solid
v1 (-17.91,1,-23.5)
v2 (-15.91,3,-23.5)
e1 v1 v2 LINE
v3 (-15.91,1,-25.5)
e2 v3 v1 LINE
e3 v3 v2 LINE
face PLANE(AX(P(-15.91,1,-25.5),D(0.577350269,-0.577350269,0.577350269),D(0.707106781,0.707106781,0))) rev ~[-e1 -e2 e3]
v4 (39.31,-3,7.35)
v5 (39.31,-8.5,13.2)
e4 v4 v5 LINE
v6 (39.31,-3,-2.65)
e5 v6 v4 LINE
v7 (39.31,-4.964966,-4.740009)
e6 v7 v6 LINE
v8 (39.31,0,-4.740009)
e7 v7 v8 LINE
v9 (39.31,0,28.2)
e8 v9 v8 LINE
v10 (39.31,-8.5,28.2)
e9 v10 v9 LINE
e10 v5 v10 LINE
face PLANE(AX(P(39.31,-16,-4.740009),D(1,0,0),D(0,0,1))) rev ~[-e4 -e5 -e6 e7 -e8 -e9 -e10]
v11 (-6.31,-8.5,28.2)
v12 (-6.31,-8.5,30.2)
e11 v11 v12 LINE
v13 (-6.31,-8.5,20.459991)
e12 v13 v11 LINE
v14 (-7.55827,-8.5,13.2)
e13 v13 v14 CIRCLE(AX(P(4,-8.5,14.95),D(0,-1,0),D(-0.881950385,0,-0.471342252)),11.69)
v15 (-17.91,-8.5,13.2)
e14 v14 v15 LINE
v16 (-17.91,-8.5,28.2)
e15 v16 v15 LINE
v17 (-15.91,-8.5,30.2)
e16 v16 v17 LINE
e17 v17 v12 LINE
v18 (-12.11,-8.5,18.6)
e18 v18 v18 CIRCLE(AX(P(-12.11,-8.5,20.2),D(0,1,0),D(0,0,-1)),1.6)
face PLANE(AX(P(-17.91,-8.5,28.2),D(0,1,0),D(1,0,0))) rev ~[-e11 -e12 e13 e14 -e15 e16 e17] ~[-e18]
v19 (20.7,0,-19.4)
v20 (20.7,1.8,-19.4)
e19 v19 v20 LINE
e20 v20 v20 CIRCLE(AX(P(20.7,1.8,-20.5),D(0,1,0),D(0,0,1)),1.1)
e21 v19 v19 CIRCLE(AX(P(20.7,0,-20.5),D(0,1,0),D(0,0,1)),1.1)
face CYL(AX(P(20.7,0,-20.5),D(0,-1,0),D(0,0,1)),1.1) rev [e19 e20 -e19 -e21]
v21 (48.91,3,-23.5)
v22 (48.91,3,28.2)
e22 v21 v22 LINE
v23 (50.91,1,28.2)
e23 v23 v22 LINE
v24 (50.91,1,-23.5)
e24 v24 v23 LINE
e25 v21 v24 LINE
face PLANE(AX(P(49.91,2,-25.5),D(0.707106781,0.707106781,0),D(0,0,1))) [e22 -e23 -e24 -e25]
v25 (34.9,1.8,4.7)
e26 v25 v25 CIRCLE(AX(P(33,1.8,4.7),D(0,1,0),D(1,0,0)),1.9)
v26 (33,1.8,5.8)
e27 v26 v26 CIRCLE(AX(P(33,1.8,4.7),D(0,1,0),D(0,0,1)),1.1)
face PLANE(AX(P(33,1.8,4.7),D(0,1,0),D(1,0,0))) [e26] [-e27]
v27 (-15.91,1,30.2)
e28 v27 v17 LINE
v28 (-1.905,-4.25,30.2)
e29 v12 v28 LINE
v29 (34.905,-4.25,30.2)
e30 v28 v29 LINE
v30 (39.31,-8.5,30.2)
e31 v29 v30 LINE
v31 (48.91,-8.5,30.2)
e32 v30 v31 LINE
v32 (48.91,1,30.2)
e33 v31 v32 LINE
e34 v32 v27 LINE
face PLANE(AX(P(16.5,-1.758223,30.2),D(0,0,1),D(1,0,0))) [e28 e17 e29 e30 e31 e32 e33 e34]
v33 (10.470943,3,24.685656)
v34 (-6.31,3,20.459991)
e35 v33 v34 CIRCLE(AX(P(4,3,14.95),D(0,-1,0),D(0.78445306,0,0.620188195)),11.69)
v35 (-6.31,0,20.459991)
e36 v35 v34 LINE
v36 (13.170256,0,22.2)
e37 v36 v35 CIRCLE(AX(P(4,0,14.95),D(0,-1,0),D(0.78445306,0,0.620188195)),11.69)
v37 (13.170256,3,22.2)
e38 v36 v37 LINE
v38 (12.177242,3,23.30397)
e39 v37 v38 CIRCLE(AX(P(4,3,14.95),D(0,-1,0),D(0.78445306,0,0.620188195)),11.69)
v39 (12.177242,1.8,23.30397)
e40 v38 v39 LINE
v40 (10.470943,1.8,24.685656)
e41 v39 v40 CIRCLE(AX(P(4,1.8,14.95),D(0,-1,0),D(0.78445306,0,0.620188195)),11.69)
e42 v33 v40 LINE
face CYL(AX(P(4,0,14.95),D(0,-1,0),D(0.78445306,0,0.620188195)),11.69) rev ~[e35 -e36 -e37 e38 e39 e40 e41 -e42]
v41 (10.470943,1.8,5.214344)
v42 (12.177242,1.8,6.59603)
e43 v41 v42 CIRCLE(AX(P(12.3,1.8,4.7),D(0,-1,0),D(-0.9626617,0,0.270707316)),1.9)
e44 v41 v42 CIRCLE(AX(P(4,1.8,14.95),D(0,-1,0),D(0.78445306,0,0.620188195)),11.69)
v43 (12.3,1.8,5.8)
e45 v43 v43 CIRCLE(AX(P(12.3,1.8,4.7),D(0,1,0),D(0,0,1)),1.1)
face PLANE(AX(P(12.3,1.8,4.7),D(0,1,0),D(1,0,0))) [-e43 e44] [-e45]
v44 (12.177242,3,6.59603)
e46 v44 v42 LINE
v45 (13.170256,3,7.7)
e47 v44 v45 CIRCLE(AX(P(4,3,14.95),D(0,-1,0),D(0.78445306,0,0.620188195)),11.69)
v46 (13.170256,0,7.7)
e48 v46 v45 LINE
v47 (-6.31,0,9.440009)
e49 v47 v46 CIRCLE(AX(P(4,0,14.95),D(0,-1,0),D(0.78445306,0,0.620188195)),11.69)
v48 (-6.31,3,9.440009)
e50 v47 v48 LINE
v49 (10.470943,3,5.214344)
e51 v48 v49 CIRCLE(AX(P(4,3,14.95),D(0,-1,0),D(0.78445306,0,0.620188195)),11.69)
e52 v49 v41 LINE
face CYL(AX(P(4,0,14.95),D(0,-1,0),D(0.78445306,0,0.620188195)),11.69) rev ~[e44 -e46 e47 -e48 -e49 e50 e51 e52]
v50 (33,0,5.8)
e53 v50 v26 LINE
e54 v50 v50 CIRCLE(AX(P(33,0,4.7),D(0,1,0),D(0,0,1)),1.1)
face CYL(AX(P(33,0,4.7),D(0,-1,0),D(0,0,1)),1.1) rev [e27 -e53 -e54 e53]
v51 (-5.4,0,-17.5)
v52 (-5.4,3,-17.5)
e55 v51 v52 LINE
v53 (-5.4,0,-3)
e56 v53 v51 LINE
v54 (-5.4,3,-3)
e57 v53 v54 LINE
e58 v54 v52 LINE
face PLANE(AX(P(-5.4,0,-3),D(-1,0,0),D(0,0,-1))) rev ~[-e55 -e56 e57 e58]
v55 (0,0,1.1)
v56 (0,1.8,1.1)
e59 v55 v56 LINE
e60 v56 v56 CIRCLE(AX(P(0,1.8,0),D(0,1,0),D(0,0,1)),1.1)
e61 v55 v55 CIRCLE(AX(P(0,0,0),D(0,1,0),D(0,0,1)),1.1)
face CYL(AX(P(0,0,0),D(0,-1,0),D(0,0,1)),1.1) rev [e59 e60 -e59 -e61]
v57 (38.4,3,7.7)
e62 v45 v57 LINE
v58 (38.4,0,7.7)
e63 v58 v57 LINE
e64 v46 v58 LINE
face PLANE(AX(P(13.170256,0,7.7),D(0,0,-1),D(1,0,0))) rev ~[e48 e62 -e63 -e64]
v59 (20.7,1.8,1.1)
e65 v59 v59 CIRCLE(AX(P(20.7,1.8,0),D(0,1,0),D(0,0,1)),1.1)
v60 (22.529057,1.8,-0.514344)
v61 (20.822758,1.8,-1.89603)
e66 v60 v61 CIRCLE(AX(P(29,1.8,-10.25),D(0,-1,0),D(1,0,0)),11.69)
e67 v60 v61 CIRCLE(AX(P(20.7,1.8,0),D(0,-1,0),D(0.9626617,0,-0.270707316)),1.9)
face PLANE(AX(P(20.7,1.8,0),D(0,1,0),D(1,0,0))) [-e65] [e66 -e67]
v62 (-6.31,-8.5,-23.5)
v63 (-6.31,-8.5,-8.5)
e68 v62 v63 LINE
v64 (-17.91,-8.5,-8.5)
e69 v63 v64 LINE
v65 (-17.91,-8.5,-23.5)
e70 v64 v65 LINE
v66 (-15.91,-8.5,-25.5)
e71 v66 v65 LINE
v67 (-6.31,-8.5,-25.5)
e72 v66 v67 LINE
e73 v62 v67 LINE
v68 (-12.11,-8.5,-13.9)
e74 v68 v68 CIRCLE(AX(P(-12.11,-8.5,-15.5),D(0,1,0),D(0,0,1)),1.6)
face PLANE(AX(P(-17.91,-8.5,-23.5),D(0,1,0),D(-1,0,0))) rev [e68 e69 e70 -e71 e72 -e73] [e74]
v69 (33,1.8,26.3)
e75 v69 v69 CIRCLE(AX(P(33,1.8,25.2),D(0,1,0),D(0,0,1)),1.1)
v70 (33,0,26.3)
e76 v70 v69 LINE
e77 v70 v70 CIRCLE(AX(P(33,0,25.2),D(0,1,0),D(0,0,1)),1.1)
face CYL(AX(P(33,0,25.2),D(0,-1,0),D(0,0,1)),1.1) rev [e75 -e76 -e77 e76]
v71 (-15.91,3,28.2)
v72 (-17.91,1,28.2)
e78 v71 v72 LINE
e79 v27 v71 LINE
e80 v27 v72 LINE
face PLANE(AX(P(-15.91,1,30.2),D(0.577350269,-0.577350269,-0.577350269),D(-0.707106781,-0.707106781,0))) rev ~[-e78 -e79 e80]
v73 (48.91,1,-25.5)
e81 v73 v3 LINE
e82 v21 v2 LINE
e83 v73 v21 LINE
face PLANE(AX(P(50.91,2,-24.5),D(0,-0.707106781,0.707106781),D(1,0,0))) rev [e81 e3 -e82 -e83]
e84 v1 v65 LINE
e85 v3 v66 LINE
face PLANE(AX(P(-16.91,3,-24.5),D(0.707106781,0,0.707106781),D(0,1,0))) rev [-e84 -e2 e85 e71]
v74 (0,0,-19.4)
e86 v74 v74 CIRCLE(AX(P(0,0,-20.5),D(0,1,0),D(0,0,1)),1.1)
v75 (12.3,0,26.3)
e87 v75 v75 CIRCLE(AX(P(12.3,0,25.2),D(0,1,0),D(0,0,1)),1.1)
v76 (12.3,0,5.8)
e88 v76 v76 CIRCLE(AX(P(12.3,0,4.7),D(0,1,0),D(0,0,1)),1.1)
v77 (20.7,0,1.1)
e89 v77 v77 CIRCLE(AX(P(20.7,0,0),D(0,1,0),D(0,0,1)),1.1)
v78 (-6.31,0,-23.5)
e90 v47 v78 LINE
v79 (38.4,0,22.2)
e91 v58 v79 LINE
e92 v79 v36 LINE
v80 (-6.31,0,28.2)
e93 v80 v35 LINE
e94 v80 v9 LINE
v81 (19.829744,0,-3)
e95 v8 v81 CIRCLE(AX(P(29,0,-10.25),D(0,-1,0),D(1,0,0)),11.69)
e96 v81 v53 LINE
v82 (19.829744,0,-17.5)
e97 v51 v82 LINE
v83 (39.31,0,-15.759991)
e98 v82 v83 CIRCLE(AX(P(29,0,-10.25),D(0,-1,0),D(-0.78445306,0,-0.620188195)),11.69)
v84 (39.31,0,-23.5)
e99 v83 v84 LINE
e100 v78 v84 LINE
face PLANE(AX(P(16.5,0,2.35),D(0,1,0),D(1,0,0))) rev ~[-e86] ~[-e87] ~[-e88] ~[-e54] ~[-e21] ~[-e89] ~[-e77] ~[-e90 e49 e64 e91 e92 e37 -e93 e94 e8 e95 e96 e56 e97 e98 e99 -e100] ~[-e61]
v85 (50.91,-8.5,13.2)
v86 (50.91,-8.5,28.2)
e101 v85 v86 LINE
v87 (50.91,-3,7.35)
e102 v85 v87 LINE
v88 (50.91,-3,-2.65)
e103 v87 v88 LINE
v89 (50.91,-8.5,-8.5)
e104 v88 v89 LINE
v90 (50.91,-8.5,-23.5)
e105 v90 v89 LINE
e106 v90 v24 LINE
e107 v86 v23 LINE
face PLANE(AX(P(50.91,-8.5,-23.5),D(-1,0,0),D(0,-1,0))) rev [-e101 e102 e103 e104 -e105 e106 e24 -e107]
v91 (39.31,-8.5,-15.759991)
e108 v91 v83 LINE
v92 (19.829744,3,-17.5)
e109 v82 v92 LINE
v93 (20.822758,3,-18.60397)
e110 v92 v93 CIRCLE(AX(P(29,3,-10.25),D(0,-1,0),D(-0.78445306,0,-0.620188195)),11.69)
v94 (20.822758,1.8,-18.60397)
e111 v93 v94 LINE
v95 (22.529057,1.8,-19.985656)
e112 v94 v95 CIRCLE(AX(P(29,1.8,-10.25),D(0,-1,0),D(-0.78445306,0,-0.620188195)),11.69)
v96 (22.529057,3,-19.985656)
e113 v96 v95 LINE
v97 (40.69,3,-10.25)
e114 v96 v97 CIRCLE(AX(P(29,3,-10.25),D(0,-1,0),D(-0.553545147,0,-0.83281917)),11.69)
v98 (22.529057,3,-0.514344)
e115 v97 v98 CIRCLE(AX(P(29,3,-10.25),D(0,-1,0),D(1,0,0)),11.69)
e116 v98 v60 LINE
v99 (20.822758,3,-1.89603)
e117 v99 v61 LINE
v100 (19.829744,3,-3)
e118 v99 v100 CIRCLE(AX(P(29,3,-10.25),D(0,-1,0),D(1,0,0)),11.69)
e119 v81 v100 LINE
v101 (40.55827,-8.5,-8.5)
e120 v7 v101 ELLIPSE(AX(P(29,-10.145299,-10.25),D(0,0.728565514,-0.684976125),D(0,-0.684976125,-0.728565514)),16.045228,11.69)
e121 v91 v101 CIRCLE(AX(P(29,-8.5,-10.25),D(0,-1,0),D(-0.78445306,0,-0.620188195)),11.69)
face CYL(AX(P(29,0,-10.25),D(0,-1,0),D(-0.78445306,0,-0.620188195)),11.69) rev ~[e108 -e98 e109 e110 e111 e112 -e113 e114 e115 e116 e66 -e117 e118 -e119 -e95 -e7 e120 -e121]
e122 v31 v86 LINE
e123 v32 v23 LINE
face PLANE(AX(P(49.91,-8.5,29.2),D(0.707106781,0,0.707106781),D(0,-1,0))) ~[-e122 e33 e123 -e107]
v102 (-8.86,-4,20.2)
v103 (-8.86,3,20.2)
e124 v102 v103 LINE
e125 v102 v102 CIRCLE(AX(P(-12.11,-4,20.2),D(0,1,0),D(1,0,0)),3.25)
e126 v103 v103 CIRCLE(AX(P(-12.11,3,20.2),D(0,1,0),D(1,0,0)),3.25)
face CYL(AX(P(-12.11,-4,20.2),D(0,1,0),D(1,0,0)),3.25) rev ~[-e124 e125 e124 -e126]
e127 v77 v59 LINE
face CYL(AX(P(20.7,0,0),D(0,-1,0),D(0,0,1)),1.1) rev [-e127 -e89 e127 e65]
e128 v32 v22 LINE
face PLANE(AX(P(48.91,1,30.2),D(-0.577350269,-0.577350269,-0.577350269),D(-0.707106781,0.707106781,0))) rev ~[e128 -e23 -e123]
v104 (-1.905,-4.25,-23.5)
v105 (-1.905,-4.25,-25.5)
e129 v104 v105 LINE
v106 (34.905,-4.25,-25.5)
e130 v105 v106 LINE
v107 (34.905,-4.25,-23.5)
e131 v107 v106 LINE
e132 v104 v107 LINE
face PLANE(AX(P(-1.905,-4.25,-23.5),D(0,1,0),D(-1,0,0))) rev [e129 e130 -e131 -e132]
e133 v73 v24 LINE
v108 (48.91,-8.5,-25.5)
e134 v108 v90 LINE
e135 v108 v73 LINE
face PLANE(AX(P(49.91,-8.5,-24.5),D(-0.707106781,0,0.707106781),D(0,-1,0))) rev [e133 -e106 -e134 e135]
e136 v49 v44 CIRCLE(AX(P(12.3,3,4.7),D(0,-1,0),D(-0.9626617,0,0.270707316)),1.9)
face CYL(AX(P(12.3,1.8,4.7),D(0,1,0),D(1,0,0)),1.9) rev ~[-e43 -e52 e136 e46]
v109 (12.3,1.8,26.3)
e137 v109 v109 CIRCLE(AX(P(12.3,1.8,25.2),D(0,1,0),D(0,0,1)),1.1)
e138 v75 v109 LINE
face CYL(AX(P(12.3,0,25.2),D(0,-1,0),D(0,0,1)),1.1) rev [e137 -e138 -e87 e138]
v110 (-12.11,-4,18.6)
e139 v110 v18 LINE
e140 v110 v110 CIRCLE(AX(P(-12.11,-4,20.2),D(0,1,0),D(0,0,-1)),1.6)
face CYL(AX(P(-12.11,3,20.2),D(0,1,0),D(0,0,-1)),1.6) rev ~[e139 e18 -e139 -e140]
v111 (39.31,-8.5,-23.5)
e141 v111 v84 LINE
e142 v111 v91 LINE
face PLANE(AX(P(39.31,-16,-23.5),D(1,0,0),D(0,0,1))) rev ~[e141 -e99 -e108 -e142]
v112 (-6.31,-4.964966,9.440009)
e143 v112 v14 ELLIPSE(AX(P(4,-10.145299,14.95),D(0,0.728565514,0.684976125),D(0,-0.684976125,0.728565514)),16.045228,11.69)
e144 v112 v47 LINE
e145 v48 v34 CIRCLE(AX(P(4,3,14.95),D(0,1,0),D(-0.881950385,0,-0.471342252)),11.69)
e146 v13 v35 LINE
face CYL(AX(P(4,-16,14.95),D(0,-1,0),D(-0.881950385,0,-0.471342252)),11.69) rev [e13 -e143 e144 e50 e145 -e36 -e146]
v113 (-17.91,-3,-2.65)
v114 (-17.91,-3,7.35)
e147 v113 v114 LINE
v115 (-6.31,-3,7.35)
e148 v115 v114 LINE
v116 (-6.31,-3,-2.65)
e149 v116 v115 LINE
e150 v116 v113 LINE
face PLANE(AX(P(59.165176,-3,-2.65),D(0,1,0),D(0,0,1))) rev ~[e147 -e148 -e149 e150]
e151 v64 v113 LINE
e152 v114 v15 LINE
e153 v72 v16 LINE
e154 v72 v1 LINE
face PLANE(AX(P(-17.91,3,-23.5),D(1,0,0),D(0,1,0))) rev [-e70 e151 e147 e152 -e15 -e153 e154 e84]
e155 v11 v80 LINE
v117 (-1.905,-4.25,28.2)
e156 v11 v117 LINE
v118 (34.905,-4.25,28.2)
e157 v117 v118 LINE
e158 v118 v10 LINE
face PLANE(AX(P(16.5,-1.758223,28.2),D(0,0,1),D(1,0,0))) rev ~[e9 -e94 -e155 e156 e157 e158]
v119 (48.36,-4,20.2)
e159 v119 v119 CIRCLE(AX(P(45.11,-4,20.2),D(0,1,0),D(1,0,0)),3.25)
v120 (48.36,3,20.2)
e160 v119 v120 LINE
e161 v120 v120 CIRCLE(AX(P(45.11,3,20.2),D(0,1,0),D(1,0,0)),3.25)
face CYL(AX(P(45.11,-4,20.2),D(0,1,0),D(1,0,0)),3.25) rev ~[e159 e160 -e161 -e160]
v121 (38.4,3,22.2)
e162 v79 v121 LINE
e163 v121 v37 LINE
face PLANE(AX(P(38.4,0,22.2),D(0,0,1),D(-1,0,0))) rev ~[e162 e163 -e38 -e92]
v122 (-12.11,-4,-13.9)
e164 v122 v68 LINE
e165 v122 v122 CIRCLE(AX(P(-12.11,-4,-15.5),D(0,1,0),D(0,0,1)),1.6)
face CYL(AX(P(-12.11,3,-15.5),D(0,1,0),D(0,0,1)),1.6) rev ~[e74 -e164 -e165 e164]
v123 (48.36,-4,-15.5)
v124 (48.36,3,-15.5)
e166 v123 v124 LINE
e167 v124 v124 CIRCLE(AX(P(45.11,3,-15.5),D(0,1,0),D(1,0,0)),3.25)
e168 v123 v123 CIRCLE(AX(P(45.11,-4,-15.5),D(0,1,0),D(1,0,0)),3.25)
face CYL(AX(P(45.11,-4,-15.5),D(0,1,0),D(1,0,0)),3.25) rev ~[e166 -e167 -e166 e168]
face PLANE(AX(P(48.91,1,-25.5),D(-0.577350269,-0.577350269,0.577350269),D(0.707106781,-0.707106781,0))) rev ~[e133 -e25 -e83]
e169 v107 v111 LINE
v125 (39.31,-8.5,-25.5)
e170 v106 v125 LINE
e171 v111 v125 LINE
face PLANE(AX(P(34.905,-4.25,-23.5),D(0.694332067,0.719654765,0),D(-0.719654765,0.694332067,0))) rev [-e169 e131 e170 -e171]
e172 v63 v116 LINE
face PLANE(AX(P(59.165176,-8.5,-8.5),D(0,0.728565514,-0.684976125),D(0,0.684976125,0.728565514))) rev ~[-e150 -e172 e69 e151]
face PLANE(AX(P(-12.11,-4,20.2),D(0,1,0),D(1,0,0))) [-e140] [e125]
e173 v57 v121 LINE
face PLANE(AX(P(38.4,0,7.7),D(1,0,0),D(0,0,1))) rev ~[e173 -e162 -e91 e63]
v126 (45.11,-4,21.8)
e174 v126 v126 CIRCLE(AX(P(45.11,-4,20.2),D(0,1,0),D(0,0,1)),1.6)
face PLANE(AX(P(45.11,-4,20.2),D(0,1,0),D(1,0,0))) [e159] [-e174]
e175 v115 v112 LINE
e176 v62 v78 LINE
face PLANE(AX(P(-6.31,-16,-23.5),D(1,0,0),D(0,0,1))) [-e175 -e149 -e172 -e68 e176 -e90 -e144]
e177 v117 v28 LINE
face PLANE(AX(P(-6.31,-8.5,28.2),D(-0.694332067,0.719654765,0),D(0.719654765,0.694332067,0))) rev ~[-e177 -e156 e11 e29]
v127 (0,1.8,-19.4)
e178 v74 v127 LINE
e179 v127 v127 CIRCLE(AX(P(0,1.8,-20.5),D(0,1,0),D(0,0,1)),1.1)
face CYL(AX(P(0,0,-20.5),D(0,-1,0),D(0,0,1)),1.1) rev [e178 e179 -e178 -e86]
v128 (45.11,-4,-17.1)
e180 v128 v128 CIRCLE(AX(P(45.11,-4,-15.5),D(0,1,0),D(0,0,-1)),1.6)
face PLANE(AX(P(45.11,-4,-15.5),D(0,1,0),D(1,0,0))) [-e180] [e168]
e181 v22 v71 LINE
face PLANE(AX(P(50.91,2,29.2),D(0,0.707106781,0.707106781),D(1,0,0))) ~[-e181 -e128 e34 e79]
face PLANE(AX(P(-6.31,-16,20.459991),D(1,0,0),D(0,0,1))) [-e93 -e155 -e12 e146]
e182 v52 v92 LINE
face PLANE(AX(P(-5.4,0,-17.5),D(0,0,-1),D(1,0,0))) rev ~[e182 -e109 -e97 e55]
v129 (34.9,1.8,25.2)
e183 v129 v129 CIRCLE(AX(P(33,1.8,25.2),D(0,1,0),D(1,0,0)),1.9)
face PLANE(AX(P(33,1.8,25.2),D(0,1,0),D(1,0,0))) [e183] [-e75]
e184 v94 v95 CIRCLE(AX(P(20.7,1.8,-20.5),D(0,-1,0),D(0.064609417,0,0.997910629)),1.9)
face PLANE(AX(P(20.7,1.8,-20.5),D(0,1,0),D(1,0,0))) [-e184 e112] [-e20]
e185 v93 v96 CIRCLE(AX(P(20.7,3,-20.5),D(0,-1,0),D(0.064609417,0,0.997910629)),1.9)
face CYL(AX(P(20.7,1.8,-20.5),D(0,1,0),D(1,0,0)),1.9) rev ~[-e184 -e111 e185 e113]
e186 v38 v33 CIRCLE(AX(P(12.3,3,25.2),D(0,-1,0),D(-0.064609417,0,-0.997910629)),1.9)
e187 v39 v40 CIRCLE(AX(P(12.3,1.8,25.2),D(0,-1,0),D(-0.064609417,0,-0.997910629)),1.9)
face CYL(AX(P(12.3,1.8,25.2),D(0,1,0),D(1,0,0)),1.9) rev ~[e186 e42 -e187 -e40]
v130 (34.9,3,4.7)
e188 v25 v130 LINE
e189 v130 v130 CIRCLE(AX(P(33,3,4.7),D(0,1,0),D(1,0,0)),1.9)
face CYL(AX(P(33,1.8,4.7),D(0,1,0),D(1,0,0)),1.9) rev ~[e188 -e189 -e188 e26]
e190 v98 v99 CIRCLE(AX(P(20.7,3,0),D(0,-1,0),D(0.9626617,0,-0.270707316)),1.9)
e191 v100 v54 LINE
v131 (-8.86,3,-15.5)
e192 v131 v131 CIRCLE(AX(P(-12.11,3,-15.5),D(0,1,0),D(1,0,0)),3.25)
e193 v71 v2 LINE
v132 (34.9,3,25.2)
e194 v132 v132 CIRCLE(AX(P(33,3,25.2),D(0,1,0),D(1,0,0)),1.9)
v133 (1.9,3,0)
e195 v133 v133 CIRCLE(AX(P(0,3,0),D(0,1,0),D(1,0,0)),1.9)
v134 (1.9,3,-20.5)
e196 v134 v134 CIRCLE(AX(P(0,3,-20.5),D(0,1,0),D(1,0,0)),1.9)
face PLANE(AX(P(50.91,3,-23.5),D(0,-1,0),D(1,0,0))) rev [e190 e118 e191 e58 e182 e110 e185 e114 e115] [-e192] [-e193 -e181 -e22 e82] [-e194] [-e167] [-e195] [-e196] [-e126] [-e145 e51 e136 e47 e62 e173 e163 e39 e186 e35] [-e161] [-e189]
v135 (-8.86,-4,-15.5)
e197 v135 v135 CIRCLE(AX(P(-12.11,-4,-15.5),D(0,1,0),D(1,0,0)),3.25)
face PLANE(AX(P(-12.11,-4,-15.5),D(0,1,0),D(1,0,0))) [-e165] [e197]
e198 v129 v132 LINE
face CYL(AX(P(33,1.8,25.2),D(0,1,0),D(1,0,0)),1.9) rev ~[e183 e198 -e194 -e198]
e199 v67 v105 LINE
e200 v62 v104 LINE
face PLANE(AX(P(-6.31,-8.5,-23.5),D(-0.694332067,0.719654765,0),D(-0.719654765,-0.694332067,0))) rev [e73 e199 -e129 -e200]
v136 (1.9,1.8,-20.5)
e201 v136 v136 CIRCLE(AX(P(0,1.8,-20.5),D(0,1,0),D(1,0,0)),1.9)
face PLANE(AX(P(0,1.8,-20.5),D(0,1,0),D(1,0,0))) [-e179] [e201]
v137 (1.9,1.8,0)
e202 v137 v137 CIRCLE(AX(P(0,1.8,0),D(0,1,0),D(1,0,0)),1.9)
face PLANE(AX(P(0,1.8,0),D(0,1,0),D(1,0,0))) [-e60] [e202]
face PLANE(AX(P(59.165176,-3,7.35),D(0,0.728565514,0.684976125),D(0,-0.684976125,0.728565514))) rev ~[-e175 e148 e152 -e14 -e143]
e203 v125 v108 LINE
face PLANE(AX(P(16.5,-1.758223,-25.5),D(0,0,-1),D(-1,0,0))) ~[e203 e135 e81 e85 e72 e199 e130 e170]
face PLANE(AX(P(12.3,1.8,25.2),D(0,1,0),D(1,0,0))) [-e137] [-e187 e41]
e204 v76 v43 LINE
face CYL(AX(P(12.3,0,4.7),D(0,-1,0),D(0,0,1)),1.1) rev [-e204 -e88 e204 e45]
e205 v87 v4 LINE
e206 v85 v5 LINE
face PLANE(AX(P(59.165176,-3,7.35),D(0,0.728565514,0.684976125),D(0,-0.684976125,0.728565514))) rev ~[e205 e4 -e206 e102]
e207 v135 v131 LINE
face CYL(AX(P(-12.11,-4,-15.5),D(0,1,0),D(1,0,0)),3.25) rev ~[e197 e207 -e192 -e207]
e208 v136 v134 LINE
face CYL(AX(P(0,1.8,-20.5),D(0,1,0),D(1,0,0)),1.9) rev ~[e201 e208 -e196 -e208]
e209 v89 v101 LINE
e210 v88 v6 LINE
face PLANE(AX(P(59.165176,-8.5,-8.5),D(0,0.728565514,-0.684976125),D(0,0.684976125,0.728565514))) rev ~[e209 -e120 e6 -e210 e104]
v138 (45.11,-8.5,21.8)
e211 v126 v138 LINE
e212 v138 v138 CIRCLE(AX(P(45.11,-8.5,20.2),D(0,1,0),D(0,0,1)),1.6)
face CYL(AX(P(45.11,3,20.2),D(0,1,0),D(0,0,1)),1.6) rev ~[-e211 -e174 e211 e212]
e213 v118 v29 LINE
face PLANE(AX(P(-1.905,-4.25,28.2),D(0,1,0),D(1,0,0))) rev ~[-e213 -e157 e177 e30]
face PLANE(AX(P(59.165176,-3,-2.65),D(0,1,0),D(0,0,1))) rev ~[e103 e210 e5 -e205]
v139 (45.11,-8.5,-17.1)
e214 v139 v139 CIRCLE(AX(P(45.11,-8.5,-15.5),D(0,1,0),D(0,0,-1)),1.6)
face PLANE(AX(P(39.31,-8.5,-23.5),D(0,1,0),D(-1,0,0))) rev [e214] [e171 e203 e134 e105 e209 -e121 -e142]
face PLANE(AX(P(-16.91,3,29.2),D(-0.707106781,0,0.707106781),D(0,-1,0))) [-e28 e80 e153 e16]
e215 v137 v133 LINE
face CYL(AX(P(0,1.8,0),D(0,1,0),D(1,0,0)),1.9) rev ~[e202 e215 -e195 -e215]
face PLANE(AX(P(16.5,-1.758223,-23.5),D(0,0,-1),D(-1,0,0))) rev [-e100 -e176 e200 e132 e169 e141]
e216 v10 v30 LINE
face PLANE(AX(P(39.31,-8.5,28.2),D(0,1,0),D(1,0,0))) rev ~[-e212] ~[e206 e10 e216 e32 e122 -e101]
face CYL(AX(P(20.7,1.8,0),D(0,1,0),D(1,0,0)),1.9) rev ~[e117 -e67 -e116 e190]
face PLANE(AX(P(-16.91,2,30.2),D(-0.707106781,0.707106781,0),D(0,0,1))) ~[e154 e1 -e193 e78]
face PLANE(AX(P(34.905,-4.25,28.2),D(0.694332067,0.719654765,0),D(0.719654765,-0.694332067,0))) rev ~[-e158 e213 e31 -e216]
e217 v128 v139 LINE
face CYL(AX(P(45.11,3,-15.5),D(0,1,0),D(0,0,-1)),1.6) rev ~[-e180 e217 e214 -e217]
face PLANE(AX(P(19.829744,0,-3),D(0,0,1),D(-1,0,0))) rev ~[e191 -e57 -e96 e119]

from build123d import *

# Parameters (mm, degrees)
ESQUISSE1_W                                        = 53.8
ESQUISSE1_H                                        = 51.7
ESQUISSE1_R                                        = 1.1
BOSS_EXTRU_1_DEPTH                                 = 3
CHAMBRAGE_POUR_VIS_SIX_PANS_CREUX_M1_6_D           = 2.2
CHAMBRAGE_POUR_VIS_SIX_PANS_CREUX_M1_6_CBORE_D     = 3.8
CHAMBRAGE_POUR_VIS_SIX_PANS_CREUX_M1_6_CBORE_DEPTH = 1.2
BOSS_EXTRU_2_START                                 = 16
ESQUISSE4_W                                        = 7.51
ESQUISSE4_H                                        = 51.7
BOSS_EXTRU_2_DEPTH                                 = 19
ESQUISSE6_R                                        = 1.6
ENL_V_MAT_EXTRU_2_DEPTH                            = 62.22146764
CHAMBRAGE_POUR_VIS_SIX_PANS_CREUX_M31_D            = 3.2
CHAMBRAGE_POUR_VIS_SIX_PANS_CREUX_M31_CBORE_D      = 6.5
CHAMBRAGE_POUR_VIS_SIX_PANS_CREUX_M31_CBORE_DEPTH  = 7
ENL_V_MAT_EXTRU_3_DEPTH                            = 77.075175977
ENL_V_MAT_EXTRU_3_DEPTH_BACK                       = 77.075175977
BOSS_EXTRU_3_DEPTH                                 = 2
CHANFREIN1_SIZE                                    = 2


with BuildPart() as part:
    # Esquisse1 → Boss.-Extru.1 (new body)
    with BuildSketch(Plane(origin=(0, 0, 0), x_dir=(1, 0, 0), z_dir=(0, 1, 0))):
        with Locations((16.5, -2.35)):
            Rectangle(ESQUISSE1_W, ESQUISSE1_H)
        with Locations(Location((12.3, -25.2, 0), (0, 0, 270))):
            Circle(ESQUISSE1_R, mode=Mode.SUBTRACT)
        with BuildLine():
            ThreePointArc((13.170256267, -22.2), (-7.69, -14.95), (13.170256267, -7.7))
            Line((13.170256267, -7.7), (38.4, -7.7))
            Line((38.4, -7.7), (38.4, -22.2))
            Line((38.4, -22.2), (13.170256267, -22.2))
        make_face(mode=Mode.SUBTRACT)
        with Locations(Location((12.3, -4.7, 0), (0, 0, 270))):
            Circle(ESQUISSE1_R, mode=Mode.SUBTRACT)
        with Locations(Location((33, -25.2, 0), (0, 0, 270))):
            Circle(ESQUISSE1_R, mode=Mode.SUBTRACT)
        with Locations(Location((33, -4.7, 0), (0, 0, 270))):
            Circle(ESQUISSE1_R, mode=Mode.SUBTRACT)
        with Locations(Location((0, 0, 0), (0, 0, 270))):
            Circle(ESQUISSE1_R, mode=Mode.SUBTRACT)
        with Locations(Location((0, 20.5, 0), (0, 0, 270))):
            Circle(ESQUISSE1_R, mode=Mode.SUBTRACT)
        with Locations(Location((20.7, 0, 0), (0, 0, 270))):
            Circle(ESQUISSE1_R, mode=Mode.SUBTRACT)
        with BuildLine():
            Line((-5.4, 3), (-5.4, 17.5))
            Line((-5.4, 17.5), (19.829743733, 17.5))
            ThreePointArc((19.829743733, 17.5), (32.837694897, 21.29211021), (40.69, 10.25))
            ThreePointArc((40.69, 10.25), (32.837694897, -0.79211021), (19.829743733, 3))
            Line((19.829743733, 3), (-5.4, 3))
        make_face(mode=Mode.SUBTRACT)
        with Locations(Location((20.7, 20.5, 0), (0, 0, 270))):
            Circle(ESQUISSE1_R, mode=Mode.SUBTRACT)
    extrude(amount=BOSS_EXTRU_1_DEPTH)

    # Chambrage pour vis à six pans creux M1.61 (through all)
    with Locations(Plane(origin=(0, 3, 0), x_dir=(1, 0, 0), z_dir=(0, 1, 0))):
        with Locations((0, 20.5), (20.7, 20.5), (20.7, 0), (12.3, -4.7), (0, 0), (33, -4.7), (12.3, -25.2), (33, -25.2)):
            CounterBoreHole(CHAMBRAGE_POUR_VIS_SIX_PANS_CREUX_M1_6_D / 2, CHAMBRAGE_POUR_VIS_SIX_PANS_CREUX_M1_6_CBORE_D / 2, CHAMBRAGE_POUR_VIS_SIX_PANS_CREUX_M1_6_CBORE_DEPTH)

    # Esquisse4 → Boss.-Extru.2 (add)
    with BuildSketch(Plane.XZ.offset(BOSS_EXTRU_2_START)):
        with BuildLine():
            Line((-6.31, 28.2), (-10.4, 28.2))
            Line((-10.4, 28.2), (-10.4, -23.5))
            Line((-10.4, -23.5), (-6.31, -23.5))
            Line((-6.31, -23.5), (-6.31, 9.440009074))
            ThreePointArc((-6.31, 9.440009074), (-7.69, 14.95), (-6.31, 20.459990926))
            Line((-6.31, 20.459990926), (-6.31, 28.2))
        make_face()
        with Locations((-14.155, 2.35)):
            Rectangle(ESQUISSE4_W, ESQUISSE4_H)
        with BuildLine():
            Line((39.31, 28.2), (50.91, 28.2))
            Line((50.91, 28.2), (50.91, -23.5))
            Line((50.91, -23.5), (39.31, -23.5))
            Line((39.31, -23.5), (39.31, -15.759990926))
            ThreePointArc((39.31, -15.759990926), (40.69, -10.25), (39.31, -4.740009074))
            Line((39.31, -4.740009074), (39.31, 28.2))
        make_face()
    extrude(amount=-BOSS_EXTRU_2_DEPTH)

    # Esquisse6 → Enlèv. mat.-Extru.2 (cut, through all)
    with BuildSketch(Plane(origin=(0, 3, 0), x_dir=(1, 0, 0), z_dir=(0, 1, 0))):
        with Locations(Location((-12.11, 15.5, 0), (0, 0, 270))):
            Circle(ESQUISSE6_R)
        with Locations(Location((-12.11, -20.2, 0), (0, 0, 90))):
            Circle(ESQUISSE6_R)
        with Locations(Location((45.11, -20.2, 0), (0, 0, 270))):
            Circle(ESQUISSE6_R)
        with Locations(Location((45.11, 15.5, 0), (0, 0, 90))):
            Circle(ESQUISSE6_R)
    extrude(amount=-ENL_V_MAT_EXTRU_2_DEPTH, mode=Mode.SUBTRACT)

    # Chambrage pour vis à six pans creux M31 (through all)
    with Locations(Plane(origin=(0, 3, 0), x_dir=(1, 0, 0), z_dir=(0, 1, 0))):
        with Locations((-12.11, 15.5), (-12.11, -20.2), (45.11, 15.5), (45.11, -20.2)):
            CounterBoreHole(CHAMBRAGE_POUR_VIS_SIX_PANS_CREUX_M31_D / 2, CHAMBRAGE_POUR_VIS_SIX_PANS_CREUX_M31_CBORE_D / 2, CHAMBRAGE_POUR_VIS_SIX_PANS_CREUX_M31_CBORE_DEPTH)

    # Esquisse9 → Enlèv. mat.-Extru.3 (cut, two sides: drawn at the far end of the back side and taken through both)
    with BuildSketch(Plane.ZY.offset(17.91).offset(-ENL_V_MAT_EXTRU_3_DEPTH_BACK)):
        Polygon((-23.5, -8.5), (-8.5, -8.5), (-2.65, -3), (7.35, -3), (13.2, -8.5), (28.2, -8.5), (28.2, -16), (-23.5, -16), align=None)
    extrude(amount=ENL_V_MAT_EXTRU_3_DEPTH + ENL_V_MAT_EXTRU_3_DEPTH_BACK, mode=Mode.SUBTRACT)

    # Esquisse10 → Boss.-Extru.3 (add)
    with BuildSketch(Plane.XY.offset(28.2)):
        Polygon((-6.31, -8.5), (-1.905, -4.25), (34.905, -4.25), (39.31, -8.5), (50.91, -8.5), (50.91, 3), (-17.91, 3), (-17.91, -8.5), align=None)
    boss_extru_3 = extrude(amount=BOSS_EXTRU_3_DEPTH)

    # Symétrie1: Boss.-Extru.3 across plane
    add(boss_extru_3.mirror(Plane.XY.offset(2.35)))

    # Chanfrein1
    chanfrein1_edges = [part.edges().sort_by_distance(p)[0] for p in [
        (-17.91, 3, 2.35),
        (50.91, 3, 2.35),
        (50.91, -2.75, 30.2),
        (16.5, 3, 30.2),
        (-17.91, -2.75, 30.2),
        (-17.91, -2.75, -25.5),
        (16.5, 3, -25.5),
        (50.91, -2.75, -25.5),
    ]]
    chamfer(chanfrein1_edges, length=CHANFREIN1_SIZE)


solid = part.part
